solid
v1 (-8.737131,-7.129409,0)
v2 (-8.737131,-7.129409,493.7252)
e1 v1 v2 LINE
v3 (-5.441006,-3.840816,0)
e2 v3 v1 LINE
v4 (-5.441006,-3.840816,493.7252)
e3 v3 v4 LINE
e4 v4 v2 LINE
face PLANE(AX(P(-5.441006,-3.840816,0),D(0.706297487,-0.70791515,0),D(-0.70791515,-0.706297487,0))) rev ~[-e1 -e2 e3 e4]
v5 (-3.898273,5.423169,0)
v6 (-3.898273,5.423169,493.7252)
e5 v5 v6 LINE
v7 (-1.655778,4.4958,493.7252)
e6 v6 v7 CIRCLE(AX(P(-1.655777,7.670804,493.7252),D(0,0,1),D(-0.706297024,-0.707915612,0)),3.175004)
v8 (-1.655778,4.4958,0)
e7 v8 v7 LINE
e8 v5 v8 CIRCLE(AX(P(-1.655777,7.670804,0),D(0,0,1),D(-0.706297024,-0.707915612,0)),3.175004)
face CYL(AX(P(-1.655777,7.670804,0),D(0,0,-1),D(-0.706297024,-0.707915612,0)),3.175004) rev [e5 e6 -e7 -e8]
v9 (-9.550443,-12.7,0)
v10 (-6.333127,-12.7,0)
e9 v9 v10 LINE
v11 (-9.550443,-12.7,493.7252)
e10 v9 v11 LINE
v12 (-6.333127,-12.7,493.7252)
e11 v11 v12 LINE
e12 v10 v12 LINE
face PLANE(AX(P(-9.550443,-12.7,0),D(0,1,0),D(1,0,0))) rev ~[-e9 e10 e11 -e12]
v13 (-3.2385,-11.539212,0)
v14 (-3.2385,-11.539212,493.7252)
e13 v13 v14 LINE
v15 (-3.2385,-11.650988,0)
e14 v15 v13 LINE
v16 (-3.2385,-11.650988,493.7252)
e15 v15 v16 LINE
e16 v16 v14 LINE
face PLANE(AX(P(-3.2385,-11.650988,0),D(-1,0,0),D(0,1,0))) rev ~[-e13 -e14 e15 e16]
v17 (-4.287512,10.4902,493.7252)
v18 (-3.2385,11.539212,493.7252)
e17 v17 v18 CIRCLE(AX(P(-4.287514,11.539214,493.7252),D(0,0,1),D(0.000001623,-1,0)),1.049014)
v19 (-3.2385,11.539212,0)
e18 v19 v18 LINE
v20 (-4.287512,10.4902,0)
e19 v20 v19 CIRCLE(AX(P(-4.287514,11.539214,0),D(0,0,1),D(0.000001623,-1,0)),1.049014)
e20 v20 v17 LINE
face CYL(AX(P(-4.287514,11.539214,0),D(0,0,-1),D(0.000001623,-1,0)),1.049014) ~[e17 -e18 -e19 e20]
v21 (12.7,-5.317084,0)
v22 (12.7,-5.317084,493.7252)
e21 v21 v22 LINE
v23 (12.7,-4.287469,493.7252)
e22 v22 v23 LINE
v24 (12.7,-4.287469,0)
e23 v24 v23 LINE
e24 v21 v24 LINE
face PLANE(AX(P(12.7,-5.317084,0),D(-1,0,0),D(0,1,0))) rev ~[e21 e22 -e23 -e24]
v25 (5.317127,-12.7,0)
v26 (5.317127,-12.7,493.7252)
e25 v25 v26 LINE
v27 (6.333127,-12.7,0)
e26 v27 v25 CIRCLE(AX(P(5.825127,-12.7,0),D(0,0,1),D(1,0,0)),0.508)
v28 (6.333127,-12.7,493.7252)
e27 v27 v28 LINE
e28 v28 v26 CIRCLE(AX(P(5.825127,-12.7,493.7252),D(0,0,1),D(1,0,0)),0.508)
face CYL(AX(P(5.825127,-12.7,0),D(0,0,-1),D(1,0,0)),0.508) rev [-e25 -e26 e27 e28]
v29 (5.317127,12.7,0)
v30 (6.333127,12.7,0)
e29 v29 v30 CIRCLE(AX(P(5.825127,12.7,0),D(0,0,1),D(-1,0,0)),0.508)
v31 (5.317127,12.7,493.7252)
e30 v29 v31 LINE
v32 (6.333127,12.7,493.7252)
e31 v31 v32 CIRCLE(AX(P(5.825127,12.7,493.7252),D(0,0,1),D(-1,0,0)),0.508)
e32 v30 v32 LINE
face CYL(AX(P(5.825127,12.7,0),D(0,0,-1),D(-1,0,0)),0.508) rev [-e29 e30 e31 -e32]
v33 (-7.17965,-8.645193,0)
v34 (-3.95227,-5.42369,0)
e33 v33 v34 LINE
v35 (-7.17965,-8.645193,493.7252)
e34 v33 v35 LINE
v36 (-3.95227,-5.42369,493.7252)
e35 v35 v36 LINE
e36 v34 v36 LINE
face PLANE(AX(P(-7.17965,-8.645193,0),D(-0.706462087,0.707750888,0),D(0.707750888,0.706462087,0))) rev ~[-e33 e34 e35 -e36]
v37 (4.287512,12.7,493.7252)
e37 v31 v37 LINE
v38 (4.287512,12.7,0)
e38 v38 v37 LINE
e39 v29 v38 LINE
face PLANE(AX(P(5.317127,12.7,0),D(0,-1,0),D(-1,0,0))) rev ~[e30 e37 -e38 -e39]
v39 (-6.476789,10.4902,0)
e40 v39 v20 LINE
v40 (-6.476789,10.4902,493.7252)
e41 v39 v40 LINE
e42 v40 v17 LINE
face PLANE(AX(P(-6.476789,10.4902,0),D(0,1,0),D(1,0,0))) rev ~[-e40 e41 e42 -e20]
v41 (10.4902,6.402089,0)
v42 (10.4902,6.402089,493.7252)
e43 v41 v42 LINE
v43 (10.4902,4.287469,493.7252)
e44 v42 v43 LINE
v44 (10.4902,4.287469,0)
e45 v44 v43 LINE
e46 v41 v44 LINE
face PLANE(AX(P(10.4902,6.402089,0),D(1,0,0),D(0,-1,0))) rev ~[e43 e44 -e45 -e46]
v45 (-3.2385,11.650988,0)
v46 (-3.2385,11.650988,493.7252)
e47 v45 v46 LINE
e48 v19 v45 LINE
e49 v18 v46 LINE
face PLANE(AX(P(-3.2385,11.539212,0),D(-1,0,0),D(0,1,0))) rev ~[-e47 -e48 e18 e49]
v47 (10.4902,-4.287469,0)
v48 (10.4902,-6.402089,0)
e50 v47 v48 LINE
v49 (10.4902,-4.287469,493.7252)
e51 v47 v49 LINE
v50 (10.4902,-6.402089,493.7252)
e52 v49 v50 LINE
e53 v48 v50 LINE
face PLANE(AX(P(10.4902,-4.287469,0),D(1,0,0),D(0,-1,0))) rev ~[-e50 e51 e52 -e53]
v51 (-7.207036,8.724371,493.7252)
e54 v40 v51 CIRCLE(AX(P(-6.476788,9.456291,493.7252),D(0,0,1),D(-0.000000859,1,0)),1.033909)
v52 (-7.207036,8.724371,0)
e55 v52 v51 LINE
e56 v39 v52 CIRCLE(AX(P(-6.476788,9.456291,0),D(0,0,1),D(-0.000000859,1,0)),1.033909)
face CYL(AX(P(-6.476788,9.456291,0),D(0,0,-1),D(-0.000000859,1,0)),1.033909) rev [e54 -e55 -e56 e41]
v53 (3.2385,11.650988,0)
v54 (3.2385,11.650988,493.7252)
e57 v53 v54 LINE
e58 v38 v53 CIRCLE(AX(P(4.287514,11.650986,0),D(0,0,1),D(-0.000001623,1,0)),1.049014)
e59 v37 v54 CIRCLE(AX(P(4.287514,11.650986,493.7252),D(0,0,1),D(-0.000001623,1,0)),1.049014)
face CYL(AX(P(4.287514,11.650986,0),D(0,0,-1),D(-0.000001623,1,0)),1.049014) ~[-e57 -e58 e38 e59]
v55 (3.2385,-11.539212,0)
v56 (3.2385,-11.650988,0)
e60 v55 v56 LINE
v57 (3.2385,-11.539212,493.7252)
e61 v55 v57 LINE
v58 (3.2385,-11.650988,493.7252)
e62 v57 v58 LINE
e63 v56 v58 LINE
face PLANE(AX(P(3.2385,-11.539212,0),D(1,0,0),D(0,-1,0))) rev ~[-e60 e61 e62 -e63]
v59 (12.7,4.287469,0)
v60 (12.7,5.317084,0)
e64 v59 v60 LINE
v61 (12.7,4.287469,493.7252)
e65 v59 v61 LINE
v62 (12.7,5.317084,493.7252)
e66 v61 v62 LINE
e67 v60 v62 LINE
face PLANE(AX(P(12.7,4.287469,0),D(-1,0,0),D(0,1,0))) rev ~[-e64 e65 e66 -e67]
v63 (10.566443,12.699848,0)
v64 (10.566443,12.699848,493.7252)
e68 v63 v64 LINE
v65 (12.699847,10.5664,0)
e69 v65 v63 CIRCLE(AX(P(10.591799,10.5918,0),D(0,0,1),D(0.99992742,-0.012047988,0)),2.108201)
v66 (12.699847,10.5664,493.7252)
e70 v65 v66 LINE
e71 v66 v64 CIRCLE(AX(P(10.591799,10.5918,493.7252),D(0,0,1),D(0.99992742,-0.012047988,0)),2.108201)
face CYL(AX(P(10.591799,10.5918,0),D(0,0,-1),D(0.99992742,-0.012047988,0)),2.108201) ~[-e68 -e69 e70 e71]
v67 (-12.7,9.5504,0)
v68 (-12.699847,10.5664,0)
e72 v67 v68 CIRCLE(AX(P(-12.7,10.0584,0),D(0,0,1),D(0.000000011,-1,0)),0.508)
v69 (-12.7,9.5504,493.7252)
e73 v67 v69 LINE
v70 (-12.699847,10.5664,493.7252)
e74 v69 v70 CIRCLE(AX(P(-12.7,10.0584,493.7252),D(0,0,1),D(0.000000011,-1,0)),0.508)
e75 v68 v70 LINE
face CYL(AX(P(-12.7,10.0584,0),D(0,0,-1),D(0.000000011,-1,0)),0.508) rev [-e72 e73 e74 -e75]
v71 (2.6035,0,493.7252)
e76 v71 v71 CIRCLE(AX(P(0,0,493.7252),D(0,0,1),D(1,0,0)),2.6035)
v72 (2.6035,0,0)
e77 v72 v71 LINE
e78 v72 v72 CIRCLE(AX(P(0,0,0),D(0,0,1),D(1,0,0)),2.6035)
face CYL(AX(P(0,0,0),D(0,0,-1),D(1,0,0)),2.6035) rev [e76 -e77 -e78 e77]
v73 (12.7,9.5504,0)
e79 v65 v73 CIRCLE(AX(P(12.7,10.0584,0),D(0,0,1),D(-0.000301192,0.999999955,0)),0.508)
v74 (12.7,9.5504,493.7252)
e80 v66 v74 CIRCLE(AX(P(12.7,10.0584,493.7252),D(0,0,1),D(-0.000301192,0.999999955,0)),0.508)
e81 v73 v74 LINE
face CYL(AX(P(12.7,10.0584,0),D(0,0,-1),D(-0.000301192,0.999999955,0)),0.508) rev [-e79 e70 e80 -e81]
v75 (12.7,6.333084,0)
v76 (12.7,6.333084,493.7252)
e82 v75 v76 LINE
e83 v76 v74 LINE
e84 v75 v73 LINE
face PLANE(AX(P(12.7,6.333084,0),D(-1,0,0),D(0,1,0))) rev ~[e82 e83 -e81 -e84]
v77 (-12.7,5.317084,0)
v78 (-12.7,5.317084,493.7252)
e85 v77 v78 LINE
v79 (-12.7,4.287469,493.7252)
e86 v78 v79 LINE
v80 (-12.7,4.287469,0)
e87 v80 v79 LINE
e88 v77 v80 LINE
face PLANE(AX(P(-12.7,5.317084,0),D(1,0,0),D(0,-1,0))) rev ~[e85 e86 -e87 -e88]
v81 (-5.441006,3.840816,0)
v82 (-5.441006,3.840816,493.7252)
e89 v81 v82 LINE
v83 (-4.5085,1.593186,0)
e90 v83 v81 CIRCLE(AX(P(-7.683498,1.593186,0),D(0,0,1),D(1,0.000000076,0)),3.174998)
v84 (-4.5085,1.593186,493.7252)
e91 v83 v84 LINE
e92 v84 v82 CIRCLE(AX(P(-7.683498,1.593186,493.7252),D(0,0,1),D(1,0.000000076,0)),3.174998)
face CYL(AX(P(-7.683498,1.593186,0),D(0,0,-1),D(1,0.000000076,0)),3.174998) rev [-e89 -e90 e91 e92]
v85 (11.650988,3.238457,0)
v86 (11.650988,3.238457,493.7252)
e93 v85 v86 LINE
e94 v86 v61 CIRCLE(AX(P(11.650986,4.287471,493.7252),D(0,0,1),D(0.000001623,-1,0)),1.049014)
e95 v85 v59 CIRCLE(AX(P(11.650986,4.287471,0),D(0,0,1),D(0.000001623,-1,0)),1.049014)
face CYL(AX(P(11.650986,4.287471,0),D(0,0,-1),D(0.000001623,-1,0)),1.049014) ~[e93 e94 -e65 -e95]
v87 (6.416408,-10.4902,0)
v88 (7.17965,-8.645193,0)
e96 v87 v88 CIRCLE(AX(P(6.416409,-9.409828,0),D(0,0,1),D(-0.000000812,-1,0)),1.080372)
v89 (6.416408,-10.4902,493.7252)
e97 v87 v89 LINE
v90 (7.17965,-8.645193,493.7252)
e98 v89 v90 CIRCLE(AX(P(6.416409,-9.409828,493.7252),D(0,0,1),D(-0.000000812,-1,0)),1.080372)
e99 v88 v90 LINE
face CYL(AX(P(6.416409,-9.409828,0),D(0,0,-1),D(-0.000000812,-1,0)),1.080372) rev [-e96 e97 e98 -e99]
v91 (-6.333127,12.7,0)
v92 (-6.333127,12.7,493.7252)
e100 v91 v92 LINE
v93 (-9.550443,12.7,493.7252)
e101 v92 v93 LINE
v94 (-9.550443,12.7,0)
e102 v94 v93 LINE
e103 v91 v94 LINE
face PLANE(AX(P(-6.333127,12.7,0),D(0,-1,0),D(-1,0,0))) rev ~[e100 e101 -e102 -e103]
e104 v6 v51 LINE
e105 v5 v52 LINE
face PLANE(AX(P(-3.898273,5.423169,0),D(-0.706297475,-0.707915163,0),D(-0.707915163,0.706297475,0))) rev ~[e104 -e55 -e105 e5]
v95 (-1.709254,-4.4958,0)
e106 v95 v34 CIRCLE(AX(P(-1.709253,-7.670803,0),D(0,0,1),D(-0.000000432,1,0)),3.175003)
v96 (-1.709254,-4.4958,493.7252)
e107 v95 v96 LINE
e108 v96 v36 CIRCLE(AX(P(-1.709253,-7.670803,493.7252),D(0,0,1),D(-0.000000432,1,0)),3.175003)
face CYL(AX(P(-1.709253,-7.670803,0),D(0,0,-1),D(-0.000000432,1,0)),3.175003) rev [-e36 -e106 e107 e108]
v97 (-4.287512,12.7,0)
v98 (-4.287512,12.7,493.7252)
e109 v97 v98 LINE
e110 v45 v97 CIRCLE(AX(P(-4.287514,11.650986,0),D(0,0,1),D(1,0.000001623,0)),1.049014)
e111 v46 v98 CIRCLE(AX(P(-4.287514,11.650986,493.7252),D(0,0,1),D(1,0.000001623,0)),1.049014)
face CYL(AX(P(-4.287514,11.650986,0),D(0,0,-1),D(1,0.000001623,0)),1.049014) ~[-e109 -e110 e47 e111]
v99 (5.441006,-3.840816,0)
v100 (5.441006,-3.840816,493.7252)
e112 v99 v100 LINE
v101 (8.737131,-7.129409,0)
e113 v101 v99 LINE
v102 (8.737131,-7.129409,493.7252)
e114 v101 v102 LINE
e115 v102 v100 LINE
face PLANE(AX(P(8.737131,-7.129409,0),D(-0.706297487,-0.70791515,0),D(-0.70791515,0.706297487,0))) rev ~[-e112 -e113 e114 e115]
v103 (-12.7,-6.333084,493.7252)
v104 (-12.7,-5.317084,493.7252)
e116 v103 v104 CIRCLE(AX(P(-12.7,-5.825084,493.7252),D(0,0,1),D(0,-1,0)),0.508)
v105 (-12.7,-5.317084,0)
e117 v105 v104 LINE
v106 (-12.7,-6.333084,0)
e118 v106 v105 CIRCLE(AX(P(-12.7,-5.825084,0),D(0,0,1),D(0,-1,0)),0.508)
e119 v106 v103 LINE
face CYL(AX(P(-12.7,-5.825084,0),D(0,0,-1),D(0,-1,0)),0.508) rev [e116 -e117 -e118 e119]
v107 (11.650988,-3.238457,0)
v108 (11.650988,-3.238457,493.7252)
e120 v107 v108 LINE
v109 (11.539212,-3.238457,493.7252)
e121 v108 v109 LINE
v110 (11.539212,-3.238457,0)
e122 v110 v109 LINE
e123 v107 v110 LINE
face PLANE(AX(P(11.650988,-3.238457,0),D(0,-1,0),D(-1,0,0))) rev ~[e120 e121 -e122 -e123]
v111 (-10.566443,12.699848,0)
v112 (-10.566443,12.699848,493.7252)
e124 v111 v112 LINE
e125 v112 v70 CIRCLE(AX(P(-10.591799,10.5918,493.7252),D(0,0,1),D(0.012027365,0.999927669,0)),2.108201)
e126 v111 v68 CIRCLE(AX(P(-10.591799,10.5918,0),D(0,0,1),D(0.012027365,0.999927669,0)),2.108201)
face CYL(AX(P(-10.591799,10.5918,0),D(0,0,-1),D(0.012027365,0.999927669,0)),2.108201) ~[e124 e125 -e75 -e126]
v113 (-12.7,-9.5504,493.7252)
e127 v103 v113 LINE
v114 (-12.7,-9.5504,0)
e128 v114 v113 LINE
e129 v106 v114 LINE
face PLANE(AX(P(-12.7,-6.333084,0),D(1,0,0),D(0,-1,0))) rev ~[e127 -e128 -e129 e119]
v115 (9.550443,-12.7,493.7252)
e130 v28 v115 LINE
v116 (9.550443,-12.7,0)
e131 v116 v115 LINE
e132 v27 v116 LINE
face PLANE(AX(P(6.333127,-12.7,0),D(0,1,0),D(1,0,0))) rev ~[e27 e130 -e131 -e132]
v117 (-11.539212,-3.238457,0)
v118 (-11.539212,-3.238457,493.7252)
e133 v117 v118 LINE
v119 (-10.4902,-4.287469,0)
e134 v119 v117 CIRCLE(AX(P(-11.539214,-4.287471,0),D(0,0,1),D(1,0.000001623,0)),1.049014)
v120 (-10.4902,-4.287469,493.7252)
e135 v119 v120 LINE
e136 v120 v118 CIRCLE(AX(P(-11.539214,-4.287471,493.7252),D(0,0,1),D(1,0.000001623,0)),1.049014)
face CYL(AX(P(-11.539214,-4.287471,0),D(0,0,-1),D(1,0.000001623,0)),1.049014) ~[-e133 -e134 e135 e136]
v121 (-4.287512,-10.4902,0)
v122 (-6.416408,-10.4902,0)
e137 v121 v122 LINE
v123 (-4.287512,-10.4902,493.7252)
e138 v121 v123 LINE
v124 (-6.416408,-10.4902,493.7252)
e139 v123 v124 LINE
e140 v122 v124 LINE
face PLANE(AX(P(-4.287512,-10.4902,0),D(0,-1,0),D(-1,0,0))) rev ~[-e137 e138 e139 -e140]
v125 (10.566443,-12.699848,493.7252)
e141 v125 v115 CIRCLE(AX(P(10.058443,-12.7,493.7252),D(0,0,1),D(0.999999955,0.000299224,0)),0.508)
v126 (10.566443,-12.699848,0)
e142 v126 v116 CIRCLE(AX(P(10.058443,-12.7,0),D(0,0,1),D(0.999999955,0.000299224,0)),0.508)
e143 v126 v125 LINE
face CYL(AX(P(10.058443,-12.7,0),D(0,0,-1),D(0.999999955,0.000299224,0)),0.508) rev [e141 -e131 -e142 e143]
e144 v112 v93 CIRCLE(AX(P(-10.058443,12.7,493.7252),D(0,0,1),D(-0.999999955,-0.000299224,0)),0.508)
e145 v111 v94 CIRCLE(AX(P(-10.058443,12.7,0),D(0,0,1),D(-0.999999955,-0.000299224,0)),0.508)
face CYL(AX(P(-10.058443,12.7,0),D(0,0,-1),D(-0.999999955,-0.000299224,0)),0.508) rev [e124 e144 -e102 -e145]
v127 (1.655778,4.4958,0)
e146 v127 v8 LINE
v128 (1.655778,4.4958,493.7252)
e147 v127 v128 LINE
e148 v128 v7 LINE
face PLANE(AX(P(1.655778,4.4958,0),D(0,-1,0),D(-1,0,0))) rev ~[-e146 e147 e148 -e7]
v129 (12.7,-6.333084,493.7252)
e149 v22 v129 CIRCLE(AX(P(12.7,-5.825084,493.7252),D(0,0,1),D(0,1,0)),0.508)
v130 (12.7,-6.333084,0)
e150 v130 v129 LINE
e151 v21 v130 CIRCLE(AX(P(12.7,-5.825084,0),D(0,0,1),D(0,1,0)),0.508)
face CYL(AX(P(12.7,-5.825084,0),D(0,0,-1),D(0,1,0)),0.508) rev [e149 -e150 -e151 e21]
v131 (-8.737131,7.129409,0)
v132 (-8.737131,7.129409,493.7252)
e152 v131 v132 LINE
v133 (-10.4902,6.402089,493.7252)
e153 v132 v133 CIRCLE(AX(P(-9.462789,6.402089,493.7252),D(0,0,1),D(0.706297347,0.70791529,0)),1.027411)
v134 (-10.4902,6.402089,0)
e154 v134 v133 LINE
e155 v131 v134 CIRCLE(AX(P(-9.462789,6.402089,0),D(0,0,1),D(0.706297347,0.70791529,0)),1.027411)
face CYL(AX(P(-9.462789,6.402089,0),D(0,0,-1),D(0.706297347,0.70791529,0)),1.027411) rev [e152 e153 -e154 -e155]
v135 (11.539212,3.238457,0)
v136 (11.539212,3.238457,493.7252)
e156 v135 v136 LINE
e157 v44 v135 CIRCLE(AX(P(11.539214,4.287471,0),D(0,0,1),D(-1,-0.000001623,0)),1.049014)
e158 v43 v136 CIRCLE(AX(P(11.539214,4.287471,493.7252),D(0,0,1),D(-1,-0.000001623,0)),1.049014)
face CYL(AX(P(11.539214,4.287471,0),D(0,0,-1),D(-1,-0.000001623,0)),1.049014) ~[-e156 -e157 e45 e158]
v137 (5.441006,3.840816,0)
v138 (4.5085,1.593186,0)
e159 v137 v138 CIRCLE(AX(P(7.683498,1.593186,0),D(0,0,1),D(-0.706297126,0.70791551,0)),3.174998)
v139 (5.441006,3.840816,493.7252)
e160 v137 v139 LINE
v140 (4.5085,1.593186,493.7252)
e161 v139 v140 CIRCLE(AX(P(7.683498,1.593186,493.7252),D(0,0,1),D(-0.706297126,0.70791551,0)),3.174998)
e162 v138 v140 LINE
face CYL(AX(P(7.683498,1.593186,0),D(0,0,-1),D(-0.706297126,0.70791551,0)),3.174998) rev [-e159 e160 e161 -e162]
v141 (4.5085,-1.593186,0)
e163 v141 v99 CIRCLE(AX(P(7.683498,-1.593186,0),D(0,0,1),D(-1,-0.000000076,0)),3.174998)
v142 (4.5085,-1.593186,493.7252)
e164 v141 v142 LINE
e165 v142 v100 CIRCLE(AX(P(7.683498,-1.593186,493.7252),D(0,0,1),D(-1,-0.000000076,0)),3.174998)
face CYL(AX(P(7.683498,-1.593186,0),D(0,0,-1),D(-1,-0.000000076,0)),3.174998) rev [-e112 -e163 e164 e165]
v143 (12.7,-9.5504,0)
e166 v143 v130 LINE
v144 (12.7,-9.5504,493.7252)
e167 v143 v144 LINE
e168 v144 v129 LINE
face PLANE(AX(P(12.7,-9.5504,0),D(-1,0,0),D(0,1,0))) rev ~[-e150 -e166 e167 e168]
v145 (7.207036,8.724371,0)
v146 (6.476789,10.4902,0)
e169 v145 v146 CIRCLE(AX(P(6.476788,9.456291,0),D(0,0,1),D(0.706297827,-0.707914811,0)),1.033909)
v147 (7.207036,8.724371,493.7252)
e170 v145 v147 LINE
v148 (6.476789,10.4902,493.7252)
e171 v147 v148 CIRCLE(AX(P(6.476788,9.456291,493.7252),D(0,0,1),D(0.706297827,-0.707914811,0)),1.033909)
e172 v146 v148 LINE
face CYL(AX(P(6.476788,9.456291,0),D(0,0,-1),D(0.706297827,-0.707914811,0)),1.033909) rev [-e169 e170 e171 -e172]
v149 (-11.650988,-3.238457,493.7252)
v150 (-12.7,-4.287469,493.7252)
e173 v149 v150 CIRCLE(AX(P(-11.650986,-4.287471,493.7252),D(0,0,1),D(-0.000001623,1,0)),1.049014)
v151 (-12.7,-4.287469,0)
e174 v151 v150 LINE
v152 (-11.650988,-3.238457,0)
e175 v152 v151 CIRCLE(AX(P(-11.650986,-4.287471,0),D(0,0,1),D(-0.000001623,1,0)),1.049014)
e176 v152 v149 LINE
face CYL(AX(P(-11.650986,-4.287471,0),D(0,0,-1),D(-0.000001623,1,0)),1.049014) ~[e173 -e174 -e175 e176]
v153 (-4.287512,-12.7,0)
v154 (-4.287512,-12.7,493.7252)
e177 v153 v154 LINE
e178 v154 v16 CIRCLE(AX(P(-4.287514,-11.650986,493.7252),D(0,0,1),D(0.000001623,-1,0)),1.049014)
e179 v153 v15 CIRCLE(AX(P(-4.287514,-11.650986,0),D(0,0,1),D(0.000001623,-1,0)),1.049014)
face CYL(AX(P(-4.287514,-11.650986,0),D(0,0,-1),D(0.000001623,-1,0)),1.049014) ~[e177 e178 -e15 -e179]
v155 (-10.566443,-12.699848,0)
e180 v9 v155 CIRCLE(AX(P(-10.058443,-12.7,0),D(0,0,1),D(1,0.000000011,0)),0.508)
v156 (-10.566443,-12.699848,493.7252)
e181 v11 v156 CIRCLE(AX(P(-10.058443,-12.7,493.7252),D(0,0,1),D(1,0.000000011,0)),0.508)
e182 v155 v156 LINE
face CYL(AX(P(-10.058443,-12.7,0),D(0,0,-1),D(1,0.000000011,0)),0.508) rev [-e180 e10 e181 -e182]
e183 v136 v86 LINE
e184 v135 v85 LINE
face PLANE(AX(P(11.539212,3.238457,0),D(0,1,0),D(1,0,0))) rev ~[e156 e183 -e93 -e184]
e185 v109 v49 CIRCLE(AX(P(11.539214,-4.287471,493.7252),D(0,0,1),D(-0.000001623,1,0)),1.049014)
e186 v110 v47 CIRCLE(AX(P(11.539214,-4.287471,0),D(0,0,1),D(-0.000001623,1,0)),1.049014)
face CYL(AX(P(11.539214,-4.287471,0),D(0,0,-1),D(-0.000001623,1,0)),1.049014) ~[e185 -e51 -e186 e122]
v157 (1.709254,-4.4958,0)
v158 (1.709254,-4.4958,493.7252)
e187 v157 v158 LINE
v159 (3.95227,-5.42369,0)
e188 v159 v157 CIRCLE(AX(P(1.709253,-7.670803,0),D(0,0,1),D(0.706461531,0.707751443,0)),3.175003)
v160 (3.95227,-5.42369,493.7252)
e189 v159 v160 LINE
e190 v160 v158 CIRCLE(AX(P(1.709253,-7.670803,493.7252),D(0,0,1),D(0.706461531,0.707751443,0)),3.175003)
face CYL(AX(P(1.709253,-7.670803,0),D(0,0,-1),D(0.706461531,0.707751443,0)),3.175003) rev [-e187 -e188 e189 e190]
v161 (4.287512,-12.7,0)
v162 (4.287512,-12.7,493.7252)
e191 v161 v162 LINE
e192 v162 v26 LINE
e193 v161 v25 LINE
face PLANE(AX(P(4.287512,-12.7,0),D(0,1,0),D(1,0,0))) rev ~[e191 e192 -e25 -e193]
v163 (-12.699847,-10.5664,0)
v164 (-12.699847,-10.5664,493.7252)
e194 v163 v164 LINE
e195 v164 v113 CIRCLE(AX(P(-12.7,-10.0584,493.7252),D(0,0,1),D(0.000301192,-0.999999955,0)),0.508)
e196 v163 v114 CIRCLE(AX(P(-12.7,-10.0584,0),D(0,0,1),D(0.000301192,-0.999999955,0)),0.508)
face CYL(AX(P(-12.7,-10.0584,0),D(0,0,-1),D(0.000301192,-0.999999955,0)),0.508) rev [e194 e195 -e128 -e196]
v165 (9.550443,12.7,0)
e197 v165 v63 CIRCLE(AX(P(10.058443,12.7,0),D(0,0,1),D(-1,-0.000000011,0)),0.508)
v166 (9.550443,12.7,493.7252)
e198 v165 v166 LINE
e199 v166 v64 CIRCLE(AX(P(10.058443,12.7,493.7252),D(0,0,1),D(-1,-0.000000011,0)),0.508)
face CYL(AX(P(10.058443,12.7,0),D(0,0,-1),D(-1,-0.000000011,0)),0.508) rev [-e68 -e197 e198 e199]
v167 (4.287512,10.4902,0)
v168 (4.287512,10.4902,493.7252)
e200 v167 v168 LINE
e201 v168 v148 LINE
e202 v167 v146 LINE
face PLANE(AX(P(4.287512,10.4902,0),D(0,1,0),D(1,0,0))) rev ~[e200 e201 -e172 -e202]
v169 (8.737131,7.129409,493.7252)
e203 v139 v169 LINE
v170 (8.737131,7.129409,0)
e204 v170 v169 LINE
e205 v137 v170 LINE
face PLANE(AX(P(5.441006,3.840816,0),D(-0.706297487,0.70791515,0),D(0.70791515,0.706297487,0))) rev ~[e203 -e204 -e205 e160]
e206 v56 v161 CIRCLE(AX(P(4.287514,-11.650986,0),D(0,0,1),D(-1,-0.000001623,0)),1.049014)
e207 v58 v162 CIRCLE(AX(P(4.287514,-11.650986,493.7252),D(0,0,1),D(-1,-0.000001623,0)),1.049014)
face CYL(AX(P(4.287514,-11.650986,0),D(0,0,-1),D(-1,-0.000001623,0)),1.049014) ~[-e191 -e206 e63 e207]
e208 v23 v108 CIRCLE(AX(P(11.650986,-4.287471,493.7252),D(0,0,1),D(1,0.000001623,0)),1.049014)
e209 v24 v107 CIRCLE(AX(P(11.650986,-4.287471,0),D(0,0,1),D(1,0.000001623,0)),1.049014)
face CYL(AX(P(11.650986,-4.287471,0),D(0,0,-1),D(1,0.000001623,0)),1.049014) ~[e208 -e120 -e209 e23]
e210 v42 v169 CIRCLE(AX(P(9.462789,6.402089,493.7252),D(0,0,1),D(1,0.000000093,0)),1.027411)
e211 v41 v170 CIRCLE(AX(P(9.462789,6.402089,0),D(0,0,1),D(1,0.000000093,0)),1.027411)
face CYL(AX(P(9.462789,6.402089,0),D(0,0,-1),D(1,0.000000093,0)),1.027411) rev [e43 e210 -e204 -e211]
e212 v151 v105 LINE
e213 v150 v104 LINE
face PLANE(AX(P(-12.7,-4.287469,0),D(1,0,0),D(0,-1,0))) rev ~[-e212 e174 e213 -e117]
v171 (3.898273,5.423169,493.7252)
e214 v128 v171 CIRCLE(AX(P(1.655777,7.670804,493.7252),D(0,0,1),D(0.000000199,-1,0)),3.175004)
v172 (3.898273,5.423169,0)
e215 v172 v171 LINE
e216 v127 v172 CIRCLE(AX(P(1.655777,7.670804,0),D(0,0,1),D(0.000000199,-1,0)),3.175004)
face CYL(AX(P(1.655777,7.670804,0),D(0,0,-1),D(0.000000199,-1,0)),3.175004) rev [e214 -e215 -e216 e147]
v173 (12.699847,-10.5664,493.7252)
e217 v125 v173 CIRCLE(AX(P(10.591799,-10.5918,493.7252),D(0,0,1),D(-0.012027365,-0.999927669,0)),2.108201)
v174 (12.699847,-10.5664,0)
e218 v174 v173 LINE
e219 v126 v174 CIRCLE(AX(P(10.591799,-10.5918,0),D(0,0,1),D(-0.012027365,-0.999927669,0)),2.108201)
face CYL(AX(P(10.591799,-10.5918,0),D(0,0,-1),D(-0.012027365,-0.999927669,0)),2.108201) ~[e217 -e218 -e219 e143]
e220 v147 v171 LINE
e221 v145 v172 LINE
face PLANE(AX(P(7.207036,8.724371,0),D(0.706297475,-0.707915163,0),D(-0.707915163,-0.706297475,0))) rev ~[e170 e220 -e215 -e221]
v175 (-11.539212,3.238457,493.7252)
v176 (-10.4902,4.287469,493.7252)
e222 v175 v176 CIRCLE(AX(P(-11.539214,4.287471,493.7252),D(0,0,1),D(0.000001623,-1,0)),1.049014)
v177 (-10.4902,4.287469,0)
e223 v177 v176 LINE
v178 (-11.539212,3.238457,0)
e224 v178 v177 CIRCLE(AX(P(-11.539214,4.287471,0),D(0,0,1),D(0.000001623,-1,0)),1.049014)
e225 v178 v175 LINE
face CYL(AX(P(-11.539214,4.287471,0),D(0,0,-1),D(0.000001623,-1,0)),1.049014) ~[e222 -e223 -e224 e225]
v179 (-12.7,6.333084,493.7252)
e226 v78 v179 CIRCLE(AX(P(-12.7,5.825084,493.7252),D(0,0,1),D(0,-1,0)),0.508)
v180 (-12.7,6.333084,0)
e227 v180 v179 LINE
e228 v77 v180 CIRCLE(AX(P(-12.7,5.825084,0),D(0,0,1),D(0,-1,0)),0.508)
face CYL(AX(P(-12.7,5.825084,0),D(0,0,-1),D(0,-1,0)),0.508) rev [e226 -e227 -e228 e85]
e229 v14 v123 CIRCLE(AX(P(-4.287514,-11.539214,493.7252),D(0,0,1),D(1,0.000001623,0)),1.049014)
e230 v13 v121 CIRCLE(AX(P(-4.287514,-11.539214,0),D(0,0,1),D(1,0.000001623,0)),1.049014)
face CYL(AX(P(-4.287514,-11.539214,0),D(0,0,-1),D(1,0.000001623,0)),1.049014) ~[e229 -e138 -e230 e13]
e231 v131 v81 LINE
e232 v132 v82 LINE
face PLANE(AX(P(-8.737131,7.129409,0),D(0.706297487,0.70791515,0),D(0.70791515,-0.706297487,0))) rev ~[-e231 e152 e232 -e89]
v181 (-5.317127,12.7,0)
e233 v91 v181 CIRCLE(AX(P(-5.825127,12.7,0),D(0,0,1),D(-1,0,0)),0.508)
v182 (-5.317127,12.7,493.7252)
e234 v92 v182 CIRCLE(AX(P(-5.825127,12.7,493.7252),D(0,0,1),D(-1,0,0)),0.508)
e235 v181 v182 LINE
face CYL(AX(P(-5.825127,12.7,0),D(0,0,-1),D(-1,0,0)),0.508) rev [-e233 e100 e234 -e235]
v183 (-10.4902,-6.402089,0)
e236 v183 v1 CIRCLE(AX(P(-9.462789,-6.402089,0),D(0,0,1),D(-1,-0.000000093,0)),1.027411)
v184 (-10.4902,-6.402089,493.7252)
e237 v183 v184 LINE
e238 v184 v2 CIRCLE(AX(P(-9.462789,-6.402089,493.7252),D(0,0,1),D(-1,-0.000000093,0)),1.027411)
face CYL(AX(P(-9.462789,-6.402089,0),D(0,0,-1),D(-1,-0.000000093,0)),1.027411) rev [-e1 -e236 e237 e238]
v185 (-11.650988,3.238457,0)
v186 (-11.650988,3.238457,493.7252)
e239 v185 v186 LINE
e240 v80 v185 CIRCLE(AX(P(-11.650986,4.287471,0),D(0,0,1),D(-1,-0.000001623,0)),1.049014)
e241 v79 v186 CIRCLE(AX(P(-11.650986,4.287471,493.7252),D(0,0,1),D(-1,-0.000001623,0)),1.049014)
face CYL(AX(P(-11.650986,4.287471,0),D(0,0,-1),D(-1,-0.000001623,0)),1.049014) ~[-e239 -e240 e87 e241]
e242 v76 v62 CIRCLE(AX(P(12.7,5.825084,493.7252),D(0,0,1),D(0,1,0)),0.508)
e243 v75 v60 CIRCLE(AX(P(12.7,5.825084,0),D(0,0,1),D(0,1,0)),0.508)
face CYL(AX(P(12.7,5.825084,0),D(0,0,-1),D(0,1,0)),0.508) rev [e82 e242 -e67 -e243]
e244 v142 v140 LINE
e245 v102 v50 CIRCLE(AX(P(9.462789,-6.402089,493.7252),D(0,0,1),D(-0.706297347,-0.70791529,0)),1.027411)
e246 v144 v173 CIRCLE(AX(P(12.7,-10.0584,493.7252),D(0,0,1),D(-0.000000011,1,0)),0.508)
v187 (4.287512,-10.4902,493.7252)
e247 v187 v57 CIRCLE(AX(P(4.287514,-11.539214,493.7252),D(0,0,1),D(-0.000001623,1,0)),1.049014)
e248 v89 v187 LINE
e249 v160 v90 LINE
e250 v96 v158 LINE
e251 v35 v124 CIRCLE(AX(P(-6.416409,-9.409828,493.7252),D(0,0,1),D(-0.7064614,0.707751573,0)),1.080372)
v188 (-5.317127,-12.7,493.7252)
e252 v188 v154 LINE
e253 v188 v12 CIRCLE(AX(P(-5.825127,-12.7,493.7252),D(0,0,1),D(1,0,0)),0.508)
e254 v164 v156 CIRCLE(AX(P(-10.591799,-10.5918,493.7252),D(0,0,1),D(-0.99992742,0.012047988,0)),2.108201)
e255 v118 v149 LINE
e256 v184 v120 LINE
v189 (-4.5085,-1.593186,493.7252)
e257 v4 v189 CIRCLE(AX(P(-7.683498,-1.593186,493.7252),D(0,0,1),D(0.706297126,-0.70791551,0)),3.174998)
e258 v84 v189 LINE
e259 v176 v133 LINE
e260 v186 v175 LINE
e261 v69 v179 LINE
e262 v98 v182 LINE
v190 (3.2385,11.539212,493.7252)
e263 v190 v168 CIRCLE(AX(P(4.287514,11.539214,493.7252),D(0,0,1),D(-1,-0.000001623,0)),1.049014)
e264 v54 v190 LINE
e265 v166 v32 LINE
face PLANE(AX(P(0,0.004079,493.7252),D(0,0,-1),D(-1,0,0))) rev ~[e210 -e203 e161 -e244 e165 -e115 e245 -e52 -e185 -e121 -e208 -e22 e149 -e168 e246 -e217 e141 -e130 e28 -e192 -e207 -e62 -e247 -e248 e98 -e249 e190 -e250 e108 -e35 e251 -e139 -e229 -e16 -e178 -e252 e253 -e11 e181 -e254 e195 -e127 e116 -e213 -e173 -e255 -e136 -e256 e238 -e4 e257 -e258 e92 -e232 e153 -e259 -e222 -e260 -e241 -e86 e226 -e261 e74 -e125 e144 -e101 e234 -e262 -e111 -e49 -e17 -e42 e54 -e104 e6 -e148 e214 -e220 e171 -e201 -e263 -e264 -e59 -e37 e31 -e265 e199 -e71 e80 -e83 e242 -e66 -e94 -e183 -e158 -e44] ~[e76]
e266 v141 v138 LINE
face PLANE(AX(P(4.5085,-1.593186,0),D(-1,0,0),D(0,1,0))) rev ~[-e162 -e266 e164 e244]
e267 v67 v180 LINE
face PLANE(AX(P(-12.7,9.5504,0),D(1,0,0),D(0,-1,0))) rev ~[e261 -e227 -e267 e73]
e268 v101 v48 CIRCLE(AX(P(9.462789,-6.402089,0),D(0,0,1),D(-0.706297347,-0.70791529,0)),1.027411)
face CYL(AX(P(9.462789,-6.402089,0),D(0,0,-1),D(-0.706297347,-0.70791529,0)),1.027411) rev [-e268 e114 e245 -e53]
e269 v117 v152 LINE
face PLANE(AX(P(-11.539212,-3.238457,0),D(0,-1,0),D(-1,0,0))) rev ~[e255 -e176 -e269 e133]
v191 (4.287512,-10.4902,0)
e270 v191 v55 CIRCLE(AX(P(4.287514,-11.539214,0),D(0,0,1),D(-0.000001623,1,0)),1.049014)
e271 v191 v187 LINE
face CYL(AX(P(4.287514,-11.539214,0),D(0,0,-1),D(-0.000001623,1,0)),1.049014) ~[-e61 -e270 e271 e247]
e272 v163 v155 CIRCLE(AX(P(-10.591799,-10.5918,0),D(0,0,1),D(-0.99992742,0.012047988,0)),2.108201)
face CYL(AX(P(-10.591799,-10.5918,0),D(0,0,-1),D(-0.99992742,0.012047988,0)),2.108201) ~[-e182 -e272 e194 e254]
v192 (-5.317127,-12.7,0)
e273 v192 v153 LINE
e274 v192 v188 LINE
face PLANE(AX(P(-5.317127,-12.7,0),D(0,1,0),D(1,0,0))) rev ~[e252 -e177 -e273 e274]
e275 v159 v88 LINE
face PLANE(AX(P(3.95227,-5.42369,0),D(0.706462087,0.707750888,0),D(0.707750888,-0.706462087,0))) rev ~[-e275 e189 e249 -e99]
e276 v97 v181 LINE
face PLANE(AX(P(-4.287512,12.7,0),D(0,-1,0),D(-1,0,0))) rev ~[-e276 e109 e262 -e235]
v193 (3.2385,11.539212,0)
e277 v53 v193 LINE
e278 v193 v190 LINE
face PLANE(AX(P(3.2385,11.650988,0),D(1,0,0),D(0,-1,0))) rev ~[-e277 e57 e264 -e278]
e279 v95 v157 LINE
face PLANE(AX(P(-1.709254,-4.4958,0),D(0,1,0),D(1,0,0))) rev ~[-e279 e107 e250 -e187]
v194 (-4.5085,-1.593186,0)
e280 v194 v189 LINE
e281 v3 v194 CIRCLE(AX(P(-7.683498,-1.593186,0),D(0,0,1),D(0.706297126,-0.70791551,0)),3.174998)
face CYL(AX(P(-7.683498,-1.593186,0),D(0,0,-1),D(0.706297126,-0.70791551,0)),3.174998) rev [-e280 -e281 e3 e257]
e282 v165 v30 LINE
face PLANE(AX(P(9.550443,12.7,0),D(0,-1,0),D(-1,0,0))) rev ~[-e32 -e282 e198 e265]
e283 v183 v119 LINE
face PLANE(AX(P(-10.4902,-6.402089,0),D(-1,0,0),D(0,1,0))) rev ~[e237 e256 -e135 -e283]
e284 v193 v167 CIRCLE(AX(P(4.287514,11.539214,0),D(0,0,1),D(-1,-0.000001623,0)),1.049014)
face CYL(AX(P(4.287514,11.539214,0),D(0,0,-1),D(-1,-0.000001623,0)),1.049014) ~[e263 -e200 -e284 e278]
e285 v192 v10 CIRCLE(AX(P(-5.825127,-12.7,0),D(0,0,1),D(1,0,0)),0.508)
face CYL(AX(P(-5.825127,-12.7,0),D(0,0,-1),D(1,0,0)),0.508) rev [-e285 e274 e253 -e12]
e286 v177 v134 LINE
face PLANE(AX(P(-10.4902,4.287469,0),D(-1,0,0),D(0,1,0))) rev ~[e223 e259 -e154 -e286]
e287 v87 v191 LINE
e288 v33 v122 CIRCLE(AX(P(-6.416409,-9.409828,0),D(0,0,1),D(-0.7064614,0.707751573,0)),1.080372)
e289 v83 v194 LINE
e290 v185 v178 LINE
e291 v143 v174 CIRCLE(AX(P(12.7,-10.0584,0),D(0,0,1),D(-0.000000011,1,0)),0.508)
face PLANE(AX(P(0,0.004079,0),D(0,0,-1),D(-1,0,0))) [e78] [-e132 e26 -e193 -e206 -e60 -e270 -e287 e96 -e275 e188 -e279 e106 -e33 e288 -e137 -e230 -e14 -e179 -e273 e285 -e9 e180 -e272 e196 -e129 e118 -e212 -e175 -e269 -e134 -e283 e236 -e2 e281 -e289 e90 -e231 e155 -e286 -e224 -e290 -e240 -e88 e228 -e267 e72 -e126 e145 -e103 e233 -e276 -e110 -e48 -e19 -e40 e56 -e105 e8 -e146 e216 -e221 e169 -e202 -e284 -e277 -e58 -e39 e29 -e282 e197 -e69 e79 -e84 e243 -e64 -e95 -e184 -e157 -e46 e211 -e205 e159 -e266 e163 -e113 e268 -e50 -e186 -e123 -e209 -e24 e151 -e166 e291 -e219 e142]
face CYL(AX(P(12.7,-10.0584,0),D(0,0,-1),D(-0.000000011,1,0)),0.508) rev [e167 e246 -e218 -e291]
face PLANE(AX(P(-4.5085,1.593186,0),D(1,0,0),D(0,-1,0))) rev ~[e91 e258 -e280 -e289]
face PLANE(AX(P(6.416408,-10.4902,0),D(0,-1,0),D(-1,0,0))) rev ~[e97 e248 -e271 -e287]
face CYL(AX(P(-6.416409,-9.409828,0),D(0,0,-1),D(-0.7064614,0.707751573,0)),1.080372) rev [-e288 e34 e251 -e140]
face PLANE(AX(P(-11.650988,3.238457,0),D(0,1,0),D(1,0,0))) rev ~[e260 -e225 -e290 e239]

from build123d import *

# Parameters (mm, degrees)
SKETCH097_R   = 2.6035
EXTRUDE_DEPTH = 493.7252


with BuildPart() as part:
    # Sketch097 → Extrude (new body)
    with BuildSketch(Plane.XY):
        with BuildLine():
            ThreePointArc((12.7, 6.333084), (12.192, 5.825084), (12.7, 5.317084))
            Line((12.7, 4.287469), (12.7, 5.317084))
            ThreePointArc((11.650988, 3.238457), (12.392751, 3.545706), (12.7, 4.287469))
            Line((11.539212, 3.238457), (11.650988, 3.238457))
            ThreePointArc((10.4902, 4.287469), (10.797449, 3.545706), (11.539212, 3.238457))
            Line((10.4902, 6.402089), (10.4902, 4.287469))
            ThreePointArc((10.4902, 6.402089), (9.856505, 7.351068), (8.737131, 7.129409))
            Line((5.441006, 3.840816), (8.737131, 7.129409))
            ThreePointArc((5.441006, 3.840816), (4.750878, 2.809883), (4.5085, 1.593186))
            Line((4.5085, -1.593186), (4.5085, 1.593186))
            ThreePointArc((4.5085, -1.593186), (4.750878, -2.809883), (5.441006, -3.840816))
            Line((8.737131, -7.129409), (5.441006, -3.840816))
            ThreePointArc((8.737131, -7.129409), (9.856505, -7.351068), (10.4902, -6.402089))
            Line((10.4902, -4.287469), (10.4902, -6.402089))
            ThreePointArc((11.539212, -3.238457), (10.797449, -3.545706), (10.4902, -4.287469))
            Line((11.650988, -3.238457), (11.539212, -3.238457))
            ThreePointArc((12.7, -4.287469), (12.392751, -3.545706), (11.650988, -3.238457))
            Line((12.7, -5.317084), (12.7, -4.287469))
            ThreePointArc((12.7, -5.317084), (12.192, -5.825084), (12.7, -6.333084))
            Line((12.7, -9.5504), (12.7, -6.333084))
            ThreePointArc((12.7, -9.5504), (12.192, -10.058323), (12.699847, -10.5664))
            ThreePointArc((10.566443, -12.699848), (12.082538, -12.082507), (12.699847, -10.5664))
            ThreePointArc((10.566443, -12.699848), (10.058367, -12.192), (9.550443, -12.7))
            Line((6.333127, -12.7), (9.550443, -12.7))
            ThreePointArc((6.333127, -12.7), (5.825127, -12.192), (5.317127, -12.7))
            Line((4.287512, -12.7), (5.317127, -12.7))
            ThreePointArc((3.2385, -11.650988), (3.545749, -12.392751), (4.287512, -12.7))
            Line((3.2385, -11.539212), (3.2385, -11.650988))
            ThreePointArc((4.287512, -10.4902), (3.545749, -10.797449), (3.2385, -11.539212))
            Line((6.416408, -10.4902), (4.287512, -10.4902))
            ThreePointArc((6.416408, -10.4902), (7.414731, -9.822813), (7.17965, -8.645193))
            Line((3.95227, -5.42369), (7.17965, -8.645193))
            ThreePointArc((3.95227, -5.42369), (2.922936, -4.736929), (1.709254, -4.4958))
            Line((-1.709254, -4.4958), (1.709254, -4.4958))
            ThreePointArc((-1.709254, -4.4958), (-2.922936, -4.736929), (-3.95227, -5.42369))
            Line((-7.17965, -8.645193), (-3.95227, -5.42369))
            ThreePointArc((-7.17965, -8.645193), (-7.414731, -9.822813), (-6.416408, -10.4902))
            Line((-4.287512, -10.4902), (-6.416408, -10.4902))
            ThreePointArc((-3.2385, -11.539212), (-3.545749, -10.797449), (-4.287512, -10.4902))
            Line((-3.2385, -11.650988), (-3.2385, -11.539212))
            ThreePointArc((-4.287512, -12.7), (-3.545749, -12.392751), (-3.2385, -11.650988))
            Line((-5.317127, -12.7), (-4.287512, -12.7))
            ThreePointArc((-5.317127, -12.7), (-5.825127, -12.192), (-6.333127, -12.7))
            Line((-9.550443, -12.7), (-6.333127, -12.7))
            ThreePointArc((-9.550443, -12.7), (-10.058367, -12.192), (-10.566443, -12.699848))
            ThreePointArc((-12.699847, -10.5664), (-12.082538, -12.082507), (-10.566443, -12.699848))
            ThreePointArc((-12.699847, -10.5664), (-12.192, -10.058323), (-12.7, -9.5504))
            Line((-12.7, -6.333084), (-12.7, -9.5504))
            ThreePointArc((-12.7, -6.333084), (-12.192, -5.825084), (-12.7, -5.317084))
            Line((-12.7, -4.287469), (-12.7, -5.317084))
            ThreePointArc((-11.650988, -3.238457), (-12.392751, -3.545706), (-12.7, -4.287469))
            Line((-11.539212, -3.238457), (-11.650988, -3.238457))
            ThreePointArc((-10.4902, -4.287469), (-10.797449, -3.545706), (-11.539212, -3.238457))
            Line((-10.4902, -6.402089), (-10.4902, -4.287469))
            ThreePointArc((-10.4902, -6.402089), (-9.856505, -7.351068), (-8.737131, -7.129409))
            Line((-5.441006, -3.840816), (-8.737131, -7.129409))
            ThreePointArc((-5.441006, -3.840816), (-4.750878, -2.809883), (-4.5085, -1.593186))
            Line((-4.5085, 1.593186), (-4.5085, -1.593186))
            ThreePointArc((-4.5085, 1.593186), (-4.750878, 2.809883), (-5.441006, 3.840816))
            Line((-8.737131, 7.129409), (-5.441006, 3.840816))
            ThreePointArc((-8.737131, 7.129409), (-9.856505, 7.351068), (-10.4902, 6.402089))
            Line((-10.4902, 4.287469), (-10.4902, 6.402089))
            ThreePointArc((-11.539212, 3.238457), (-10.797449, 3.545706), (-10.4902, 4.287469))
            Line((-11.650988, 3.238457), (-11.539212, 3.238457))
            ThreePointArc((-12.7, 4.287469), (-12.392751, 3.545706), (-11.650988, 3.238457))
            Line((-12.7, 5.317084), (-12.7, 4.287469))
            ThreePointArc((-12.7, 5.317084), (-12.192, 5.825084), (-12.7, 6.333084))
            Line((-12.7, 9.5504), (-12.7, 6.333084))
            ThreePointArc((-12.7, 9.5504), (-12.192, 10.058323), (-12.699847, 10.5664))
            ThreePointArc((-10.566443, 12.699848), (-12.082538, 12.082507), (-12.699847, 10.5664))
            ThreePointArc((-10.566443, 12.699848), (-10.058367, 12.192), (-9.550443, 12.7))
            Line((-6.333127, 12.7), (-9.550443, 12.7))
            ThreePointArc((-6.333127, 12.7), (-5.825127, 12.192), (-5.317127, 12.7))
            Line((-4.287512, 12.7), (-5.317127, 12.7))
            ThreePointArc((-3.2385, 11.650988), (-3.545749, 12.392751), (-4.287512, 12.7))
            Line((-3.2385, 11.539212), (-3.2385, 11.650988))
            ThreePointArc((-4.287512, 10.4902), (-3.545749, 10.797449), (-3.2385, 11.539212))
            Line((-6.476789, 10.4902), (-4.287512, 10.4902))
            ThreePointArc((-6.476789, 10.4902), (-7.432222, 9.851404), (-7.207036, 8.724371))
            Line((-3.898273, 5.423169), (-7.207036, 8.724371))
            ThreePointArc((-3.898273, 5.423169), (-2.86912, 4.736788), (-1.655778, 4.4958))
            Line((1.655778, 4.4958), (-1.655778, 4.4958))
            ThreePointArc((1.655778, 4.4958), (2.86912, 4.736788), (3.898273, 5.423169))
            Line((7.207036, 8.724371), (3.898273, 5.423169))
            ThreePointArc((7.207036, 8.724371), (7.432222, 9.851404), (6.476789, 10.4902))
            Line((4.287512, 10.4902), (6.476789, 10.4902))
            ThreePointArc((3.2385, 11.539212), (3.545749, 10.797449), (4.287512, 10.4902))
            Line((3.2385, 11.650988), (3.2385, 11.539212))
            ThreePointArc((4.287512, 12.7), (3.545749, 12.392751), (3.2385, 11.650988))
            Line((5.317127, 12.7), (4.287512, 12.7))
            ThreePointArc((5.317127, 12.7), (5.825127, 12.192), (6.333127, 12.7))
            Line((9.550443, 12.7), (6.333127, 12.7))
            ThreePointArc((9.550443, 12.7), (10.058367, 12.192), (10.566443, 12.699848))
            ThreePointArc((12.699847, 10.5664), (12.082538, 12.082507), (10.566443, 12.699848))
            ThreePointArc((12.699847, 10.5664), (12.192, 10.058323), (12.7, 9.5504))
            Line((12.7, 6.333084), (12.7, 9.5504))
        make_face()
        Circle(SKETCH097_R, mode=Mode.SUBTRACT)
    extrude(amount=EXTRUDE_DEPTH)


solid = part.part
